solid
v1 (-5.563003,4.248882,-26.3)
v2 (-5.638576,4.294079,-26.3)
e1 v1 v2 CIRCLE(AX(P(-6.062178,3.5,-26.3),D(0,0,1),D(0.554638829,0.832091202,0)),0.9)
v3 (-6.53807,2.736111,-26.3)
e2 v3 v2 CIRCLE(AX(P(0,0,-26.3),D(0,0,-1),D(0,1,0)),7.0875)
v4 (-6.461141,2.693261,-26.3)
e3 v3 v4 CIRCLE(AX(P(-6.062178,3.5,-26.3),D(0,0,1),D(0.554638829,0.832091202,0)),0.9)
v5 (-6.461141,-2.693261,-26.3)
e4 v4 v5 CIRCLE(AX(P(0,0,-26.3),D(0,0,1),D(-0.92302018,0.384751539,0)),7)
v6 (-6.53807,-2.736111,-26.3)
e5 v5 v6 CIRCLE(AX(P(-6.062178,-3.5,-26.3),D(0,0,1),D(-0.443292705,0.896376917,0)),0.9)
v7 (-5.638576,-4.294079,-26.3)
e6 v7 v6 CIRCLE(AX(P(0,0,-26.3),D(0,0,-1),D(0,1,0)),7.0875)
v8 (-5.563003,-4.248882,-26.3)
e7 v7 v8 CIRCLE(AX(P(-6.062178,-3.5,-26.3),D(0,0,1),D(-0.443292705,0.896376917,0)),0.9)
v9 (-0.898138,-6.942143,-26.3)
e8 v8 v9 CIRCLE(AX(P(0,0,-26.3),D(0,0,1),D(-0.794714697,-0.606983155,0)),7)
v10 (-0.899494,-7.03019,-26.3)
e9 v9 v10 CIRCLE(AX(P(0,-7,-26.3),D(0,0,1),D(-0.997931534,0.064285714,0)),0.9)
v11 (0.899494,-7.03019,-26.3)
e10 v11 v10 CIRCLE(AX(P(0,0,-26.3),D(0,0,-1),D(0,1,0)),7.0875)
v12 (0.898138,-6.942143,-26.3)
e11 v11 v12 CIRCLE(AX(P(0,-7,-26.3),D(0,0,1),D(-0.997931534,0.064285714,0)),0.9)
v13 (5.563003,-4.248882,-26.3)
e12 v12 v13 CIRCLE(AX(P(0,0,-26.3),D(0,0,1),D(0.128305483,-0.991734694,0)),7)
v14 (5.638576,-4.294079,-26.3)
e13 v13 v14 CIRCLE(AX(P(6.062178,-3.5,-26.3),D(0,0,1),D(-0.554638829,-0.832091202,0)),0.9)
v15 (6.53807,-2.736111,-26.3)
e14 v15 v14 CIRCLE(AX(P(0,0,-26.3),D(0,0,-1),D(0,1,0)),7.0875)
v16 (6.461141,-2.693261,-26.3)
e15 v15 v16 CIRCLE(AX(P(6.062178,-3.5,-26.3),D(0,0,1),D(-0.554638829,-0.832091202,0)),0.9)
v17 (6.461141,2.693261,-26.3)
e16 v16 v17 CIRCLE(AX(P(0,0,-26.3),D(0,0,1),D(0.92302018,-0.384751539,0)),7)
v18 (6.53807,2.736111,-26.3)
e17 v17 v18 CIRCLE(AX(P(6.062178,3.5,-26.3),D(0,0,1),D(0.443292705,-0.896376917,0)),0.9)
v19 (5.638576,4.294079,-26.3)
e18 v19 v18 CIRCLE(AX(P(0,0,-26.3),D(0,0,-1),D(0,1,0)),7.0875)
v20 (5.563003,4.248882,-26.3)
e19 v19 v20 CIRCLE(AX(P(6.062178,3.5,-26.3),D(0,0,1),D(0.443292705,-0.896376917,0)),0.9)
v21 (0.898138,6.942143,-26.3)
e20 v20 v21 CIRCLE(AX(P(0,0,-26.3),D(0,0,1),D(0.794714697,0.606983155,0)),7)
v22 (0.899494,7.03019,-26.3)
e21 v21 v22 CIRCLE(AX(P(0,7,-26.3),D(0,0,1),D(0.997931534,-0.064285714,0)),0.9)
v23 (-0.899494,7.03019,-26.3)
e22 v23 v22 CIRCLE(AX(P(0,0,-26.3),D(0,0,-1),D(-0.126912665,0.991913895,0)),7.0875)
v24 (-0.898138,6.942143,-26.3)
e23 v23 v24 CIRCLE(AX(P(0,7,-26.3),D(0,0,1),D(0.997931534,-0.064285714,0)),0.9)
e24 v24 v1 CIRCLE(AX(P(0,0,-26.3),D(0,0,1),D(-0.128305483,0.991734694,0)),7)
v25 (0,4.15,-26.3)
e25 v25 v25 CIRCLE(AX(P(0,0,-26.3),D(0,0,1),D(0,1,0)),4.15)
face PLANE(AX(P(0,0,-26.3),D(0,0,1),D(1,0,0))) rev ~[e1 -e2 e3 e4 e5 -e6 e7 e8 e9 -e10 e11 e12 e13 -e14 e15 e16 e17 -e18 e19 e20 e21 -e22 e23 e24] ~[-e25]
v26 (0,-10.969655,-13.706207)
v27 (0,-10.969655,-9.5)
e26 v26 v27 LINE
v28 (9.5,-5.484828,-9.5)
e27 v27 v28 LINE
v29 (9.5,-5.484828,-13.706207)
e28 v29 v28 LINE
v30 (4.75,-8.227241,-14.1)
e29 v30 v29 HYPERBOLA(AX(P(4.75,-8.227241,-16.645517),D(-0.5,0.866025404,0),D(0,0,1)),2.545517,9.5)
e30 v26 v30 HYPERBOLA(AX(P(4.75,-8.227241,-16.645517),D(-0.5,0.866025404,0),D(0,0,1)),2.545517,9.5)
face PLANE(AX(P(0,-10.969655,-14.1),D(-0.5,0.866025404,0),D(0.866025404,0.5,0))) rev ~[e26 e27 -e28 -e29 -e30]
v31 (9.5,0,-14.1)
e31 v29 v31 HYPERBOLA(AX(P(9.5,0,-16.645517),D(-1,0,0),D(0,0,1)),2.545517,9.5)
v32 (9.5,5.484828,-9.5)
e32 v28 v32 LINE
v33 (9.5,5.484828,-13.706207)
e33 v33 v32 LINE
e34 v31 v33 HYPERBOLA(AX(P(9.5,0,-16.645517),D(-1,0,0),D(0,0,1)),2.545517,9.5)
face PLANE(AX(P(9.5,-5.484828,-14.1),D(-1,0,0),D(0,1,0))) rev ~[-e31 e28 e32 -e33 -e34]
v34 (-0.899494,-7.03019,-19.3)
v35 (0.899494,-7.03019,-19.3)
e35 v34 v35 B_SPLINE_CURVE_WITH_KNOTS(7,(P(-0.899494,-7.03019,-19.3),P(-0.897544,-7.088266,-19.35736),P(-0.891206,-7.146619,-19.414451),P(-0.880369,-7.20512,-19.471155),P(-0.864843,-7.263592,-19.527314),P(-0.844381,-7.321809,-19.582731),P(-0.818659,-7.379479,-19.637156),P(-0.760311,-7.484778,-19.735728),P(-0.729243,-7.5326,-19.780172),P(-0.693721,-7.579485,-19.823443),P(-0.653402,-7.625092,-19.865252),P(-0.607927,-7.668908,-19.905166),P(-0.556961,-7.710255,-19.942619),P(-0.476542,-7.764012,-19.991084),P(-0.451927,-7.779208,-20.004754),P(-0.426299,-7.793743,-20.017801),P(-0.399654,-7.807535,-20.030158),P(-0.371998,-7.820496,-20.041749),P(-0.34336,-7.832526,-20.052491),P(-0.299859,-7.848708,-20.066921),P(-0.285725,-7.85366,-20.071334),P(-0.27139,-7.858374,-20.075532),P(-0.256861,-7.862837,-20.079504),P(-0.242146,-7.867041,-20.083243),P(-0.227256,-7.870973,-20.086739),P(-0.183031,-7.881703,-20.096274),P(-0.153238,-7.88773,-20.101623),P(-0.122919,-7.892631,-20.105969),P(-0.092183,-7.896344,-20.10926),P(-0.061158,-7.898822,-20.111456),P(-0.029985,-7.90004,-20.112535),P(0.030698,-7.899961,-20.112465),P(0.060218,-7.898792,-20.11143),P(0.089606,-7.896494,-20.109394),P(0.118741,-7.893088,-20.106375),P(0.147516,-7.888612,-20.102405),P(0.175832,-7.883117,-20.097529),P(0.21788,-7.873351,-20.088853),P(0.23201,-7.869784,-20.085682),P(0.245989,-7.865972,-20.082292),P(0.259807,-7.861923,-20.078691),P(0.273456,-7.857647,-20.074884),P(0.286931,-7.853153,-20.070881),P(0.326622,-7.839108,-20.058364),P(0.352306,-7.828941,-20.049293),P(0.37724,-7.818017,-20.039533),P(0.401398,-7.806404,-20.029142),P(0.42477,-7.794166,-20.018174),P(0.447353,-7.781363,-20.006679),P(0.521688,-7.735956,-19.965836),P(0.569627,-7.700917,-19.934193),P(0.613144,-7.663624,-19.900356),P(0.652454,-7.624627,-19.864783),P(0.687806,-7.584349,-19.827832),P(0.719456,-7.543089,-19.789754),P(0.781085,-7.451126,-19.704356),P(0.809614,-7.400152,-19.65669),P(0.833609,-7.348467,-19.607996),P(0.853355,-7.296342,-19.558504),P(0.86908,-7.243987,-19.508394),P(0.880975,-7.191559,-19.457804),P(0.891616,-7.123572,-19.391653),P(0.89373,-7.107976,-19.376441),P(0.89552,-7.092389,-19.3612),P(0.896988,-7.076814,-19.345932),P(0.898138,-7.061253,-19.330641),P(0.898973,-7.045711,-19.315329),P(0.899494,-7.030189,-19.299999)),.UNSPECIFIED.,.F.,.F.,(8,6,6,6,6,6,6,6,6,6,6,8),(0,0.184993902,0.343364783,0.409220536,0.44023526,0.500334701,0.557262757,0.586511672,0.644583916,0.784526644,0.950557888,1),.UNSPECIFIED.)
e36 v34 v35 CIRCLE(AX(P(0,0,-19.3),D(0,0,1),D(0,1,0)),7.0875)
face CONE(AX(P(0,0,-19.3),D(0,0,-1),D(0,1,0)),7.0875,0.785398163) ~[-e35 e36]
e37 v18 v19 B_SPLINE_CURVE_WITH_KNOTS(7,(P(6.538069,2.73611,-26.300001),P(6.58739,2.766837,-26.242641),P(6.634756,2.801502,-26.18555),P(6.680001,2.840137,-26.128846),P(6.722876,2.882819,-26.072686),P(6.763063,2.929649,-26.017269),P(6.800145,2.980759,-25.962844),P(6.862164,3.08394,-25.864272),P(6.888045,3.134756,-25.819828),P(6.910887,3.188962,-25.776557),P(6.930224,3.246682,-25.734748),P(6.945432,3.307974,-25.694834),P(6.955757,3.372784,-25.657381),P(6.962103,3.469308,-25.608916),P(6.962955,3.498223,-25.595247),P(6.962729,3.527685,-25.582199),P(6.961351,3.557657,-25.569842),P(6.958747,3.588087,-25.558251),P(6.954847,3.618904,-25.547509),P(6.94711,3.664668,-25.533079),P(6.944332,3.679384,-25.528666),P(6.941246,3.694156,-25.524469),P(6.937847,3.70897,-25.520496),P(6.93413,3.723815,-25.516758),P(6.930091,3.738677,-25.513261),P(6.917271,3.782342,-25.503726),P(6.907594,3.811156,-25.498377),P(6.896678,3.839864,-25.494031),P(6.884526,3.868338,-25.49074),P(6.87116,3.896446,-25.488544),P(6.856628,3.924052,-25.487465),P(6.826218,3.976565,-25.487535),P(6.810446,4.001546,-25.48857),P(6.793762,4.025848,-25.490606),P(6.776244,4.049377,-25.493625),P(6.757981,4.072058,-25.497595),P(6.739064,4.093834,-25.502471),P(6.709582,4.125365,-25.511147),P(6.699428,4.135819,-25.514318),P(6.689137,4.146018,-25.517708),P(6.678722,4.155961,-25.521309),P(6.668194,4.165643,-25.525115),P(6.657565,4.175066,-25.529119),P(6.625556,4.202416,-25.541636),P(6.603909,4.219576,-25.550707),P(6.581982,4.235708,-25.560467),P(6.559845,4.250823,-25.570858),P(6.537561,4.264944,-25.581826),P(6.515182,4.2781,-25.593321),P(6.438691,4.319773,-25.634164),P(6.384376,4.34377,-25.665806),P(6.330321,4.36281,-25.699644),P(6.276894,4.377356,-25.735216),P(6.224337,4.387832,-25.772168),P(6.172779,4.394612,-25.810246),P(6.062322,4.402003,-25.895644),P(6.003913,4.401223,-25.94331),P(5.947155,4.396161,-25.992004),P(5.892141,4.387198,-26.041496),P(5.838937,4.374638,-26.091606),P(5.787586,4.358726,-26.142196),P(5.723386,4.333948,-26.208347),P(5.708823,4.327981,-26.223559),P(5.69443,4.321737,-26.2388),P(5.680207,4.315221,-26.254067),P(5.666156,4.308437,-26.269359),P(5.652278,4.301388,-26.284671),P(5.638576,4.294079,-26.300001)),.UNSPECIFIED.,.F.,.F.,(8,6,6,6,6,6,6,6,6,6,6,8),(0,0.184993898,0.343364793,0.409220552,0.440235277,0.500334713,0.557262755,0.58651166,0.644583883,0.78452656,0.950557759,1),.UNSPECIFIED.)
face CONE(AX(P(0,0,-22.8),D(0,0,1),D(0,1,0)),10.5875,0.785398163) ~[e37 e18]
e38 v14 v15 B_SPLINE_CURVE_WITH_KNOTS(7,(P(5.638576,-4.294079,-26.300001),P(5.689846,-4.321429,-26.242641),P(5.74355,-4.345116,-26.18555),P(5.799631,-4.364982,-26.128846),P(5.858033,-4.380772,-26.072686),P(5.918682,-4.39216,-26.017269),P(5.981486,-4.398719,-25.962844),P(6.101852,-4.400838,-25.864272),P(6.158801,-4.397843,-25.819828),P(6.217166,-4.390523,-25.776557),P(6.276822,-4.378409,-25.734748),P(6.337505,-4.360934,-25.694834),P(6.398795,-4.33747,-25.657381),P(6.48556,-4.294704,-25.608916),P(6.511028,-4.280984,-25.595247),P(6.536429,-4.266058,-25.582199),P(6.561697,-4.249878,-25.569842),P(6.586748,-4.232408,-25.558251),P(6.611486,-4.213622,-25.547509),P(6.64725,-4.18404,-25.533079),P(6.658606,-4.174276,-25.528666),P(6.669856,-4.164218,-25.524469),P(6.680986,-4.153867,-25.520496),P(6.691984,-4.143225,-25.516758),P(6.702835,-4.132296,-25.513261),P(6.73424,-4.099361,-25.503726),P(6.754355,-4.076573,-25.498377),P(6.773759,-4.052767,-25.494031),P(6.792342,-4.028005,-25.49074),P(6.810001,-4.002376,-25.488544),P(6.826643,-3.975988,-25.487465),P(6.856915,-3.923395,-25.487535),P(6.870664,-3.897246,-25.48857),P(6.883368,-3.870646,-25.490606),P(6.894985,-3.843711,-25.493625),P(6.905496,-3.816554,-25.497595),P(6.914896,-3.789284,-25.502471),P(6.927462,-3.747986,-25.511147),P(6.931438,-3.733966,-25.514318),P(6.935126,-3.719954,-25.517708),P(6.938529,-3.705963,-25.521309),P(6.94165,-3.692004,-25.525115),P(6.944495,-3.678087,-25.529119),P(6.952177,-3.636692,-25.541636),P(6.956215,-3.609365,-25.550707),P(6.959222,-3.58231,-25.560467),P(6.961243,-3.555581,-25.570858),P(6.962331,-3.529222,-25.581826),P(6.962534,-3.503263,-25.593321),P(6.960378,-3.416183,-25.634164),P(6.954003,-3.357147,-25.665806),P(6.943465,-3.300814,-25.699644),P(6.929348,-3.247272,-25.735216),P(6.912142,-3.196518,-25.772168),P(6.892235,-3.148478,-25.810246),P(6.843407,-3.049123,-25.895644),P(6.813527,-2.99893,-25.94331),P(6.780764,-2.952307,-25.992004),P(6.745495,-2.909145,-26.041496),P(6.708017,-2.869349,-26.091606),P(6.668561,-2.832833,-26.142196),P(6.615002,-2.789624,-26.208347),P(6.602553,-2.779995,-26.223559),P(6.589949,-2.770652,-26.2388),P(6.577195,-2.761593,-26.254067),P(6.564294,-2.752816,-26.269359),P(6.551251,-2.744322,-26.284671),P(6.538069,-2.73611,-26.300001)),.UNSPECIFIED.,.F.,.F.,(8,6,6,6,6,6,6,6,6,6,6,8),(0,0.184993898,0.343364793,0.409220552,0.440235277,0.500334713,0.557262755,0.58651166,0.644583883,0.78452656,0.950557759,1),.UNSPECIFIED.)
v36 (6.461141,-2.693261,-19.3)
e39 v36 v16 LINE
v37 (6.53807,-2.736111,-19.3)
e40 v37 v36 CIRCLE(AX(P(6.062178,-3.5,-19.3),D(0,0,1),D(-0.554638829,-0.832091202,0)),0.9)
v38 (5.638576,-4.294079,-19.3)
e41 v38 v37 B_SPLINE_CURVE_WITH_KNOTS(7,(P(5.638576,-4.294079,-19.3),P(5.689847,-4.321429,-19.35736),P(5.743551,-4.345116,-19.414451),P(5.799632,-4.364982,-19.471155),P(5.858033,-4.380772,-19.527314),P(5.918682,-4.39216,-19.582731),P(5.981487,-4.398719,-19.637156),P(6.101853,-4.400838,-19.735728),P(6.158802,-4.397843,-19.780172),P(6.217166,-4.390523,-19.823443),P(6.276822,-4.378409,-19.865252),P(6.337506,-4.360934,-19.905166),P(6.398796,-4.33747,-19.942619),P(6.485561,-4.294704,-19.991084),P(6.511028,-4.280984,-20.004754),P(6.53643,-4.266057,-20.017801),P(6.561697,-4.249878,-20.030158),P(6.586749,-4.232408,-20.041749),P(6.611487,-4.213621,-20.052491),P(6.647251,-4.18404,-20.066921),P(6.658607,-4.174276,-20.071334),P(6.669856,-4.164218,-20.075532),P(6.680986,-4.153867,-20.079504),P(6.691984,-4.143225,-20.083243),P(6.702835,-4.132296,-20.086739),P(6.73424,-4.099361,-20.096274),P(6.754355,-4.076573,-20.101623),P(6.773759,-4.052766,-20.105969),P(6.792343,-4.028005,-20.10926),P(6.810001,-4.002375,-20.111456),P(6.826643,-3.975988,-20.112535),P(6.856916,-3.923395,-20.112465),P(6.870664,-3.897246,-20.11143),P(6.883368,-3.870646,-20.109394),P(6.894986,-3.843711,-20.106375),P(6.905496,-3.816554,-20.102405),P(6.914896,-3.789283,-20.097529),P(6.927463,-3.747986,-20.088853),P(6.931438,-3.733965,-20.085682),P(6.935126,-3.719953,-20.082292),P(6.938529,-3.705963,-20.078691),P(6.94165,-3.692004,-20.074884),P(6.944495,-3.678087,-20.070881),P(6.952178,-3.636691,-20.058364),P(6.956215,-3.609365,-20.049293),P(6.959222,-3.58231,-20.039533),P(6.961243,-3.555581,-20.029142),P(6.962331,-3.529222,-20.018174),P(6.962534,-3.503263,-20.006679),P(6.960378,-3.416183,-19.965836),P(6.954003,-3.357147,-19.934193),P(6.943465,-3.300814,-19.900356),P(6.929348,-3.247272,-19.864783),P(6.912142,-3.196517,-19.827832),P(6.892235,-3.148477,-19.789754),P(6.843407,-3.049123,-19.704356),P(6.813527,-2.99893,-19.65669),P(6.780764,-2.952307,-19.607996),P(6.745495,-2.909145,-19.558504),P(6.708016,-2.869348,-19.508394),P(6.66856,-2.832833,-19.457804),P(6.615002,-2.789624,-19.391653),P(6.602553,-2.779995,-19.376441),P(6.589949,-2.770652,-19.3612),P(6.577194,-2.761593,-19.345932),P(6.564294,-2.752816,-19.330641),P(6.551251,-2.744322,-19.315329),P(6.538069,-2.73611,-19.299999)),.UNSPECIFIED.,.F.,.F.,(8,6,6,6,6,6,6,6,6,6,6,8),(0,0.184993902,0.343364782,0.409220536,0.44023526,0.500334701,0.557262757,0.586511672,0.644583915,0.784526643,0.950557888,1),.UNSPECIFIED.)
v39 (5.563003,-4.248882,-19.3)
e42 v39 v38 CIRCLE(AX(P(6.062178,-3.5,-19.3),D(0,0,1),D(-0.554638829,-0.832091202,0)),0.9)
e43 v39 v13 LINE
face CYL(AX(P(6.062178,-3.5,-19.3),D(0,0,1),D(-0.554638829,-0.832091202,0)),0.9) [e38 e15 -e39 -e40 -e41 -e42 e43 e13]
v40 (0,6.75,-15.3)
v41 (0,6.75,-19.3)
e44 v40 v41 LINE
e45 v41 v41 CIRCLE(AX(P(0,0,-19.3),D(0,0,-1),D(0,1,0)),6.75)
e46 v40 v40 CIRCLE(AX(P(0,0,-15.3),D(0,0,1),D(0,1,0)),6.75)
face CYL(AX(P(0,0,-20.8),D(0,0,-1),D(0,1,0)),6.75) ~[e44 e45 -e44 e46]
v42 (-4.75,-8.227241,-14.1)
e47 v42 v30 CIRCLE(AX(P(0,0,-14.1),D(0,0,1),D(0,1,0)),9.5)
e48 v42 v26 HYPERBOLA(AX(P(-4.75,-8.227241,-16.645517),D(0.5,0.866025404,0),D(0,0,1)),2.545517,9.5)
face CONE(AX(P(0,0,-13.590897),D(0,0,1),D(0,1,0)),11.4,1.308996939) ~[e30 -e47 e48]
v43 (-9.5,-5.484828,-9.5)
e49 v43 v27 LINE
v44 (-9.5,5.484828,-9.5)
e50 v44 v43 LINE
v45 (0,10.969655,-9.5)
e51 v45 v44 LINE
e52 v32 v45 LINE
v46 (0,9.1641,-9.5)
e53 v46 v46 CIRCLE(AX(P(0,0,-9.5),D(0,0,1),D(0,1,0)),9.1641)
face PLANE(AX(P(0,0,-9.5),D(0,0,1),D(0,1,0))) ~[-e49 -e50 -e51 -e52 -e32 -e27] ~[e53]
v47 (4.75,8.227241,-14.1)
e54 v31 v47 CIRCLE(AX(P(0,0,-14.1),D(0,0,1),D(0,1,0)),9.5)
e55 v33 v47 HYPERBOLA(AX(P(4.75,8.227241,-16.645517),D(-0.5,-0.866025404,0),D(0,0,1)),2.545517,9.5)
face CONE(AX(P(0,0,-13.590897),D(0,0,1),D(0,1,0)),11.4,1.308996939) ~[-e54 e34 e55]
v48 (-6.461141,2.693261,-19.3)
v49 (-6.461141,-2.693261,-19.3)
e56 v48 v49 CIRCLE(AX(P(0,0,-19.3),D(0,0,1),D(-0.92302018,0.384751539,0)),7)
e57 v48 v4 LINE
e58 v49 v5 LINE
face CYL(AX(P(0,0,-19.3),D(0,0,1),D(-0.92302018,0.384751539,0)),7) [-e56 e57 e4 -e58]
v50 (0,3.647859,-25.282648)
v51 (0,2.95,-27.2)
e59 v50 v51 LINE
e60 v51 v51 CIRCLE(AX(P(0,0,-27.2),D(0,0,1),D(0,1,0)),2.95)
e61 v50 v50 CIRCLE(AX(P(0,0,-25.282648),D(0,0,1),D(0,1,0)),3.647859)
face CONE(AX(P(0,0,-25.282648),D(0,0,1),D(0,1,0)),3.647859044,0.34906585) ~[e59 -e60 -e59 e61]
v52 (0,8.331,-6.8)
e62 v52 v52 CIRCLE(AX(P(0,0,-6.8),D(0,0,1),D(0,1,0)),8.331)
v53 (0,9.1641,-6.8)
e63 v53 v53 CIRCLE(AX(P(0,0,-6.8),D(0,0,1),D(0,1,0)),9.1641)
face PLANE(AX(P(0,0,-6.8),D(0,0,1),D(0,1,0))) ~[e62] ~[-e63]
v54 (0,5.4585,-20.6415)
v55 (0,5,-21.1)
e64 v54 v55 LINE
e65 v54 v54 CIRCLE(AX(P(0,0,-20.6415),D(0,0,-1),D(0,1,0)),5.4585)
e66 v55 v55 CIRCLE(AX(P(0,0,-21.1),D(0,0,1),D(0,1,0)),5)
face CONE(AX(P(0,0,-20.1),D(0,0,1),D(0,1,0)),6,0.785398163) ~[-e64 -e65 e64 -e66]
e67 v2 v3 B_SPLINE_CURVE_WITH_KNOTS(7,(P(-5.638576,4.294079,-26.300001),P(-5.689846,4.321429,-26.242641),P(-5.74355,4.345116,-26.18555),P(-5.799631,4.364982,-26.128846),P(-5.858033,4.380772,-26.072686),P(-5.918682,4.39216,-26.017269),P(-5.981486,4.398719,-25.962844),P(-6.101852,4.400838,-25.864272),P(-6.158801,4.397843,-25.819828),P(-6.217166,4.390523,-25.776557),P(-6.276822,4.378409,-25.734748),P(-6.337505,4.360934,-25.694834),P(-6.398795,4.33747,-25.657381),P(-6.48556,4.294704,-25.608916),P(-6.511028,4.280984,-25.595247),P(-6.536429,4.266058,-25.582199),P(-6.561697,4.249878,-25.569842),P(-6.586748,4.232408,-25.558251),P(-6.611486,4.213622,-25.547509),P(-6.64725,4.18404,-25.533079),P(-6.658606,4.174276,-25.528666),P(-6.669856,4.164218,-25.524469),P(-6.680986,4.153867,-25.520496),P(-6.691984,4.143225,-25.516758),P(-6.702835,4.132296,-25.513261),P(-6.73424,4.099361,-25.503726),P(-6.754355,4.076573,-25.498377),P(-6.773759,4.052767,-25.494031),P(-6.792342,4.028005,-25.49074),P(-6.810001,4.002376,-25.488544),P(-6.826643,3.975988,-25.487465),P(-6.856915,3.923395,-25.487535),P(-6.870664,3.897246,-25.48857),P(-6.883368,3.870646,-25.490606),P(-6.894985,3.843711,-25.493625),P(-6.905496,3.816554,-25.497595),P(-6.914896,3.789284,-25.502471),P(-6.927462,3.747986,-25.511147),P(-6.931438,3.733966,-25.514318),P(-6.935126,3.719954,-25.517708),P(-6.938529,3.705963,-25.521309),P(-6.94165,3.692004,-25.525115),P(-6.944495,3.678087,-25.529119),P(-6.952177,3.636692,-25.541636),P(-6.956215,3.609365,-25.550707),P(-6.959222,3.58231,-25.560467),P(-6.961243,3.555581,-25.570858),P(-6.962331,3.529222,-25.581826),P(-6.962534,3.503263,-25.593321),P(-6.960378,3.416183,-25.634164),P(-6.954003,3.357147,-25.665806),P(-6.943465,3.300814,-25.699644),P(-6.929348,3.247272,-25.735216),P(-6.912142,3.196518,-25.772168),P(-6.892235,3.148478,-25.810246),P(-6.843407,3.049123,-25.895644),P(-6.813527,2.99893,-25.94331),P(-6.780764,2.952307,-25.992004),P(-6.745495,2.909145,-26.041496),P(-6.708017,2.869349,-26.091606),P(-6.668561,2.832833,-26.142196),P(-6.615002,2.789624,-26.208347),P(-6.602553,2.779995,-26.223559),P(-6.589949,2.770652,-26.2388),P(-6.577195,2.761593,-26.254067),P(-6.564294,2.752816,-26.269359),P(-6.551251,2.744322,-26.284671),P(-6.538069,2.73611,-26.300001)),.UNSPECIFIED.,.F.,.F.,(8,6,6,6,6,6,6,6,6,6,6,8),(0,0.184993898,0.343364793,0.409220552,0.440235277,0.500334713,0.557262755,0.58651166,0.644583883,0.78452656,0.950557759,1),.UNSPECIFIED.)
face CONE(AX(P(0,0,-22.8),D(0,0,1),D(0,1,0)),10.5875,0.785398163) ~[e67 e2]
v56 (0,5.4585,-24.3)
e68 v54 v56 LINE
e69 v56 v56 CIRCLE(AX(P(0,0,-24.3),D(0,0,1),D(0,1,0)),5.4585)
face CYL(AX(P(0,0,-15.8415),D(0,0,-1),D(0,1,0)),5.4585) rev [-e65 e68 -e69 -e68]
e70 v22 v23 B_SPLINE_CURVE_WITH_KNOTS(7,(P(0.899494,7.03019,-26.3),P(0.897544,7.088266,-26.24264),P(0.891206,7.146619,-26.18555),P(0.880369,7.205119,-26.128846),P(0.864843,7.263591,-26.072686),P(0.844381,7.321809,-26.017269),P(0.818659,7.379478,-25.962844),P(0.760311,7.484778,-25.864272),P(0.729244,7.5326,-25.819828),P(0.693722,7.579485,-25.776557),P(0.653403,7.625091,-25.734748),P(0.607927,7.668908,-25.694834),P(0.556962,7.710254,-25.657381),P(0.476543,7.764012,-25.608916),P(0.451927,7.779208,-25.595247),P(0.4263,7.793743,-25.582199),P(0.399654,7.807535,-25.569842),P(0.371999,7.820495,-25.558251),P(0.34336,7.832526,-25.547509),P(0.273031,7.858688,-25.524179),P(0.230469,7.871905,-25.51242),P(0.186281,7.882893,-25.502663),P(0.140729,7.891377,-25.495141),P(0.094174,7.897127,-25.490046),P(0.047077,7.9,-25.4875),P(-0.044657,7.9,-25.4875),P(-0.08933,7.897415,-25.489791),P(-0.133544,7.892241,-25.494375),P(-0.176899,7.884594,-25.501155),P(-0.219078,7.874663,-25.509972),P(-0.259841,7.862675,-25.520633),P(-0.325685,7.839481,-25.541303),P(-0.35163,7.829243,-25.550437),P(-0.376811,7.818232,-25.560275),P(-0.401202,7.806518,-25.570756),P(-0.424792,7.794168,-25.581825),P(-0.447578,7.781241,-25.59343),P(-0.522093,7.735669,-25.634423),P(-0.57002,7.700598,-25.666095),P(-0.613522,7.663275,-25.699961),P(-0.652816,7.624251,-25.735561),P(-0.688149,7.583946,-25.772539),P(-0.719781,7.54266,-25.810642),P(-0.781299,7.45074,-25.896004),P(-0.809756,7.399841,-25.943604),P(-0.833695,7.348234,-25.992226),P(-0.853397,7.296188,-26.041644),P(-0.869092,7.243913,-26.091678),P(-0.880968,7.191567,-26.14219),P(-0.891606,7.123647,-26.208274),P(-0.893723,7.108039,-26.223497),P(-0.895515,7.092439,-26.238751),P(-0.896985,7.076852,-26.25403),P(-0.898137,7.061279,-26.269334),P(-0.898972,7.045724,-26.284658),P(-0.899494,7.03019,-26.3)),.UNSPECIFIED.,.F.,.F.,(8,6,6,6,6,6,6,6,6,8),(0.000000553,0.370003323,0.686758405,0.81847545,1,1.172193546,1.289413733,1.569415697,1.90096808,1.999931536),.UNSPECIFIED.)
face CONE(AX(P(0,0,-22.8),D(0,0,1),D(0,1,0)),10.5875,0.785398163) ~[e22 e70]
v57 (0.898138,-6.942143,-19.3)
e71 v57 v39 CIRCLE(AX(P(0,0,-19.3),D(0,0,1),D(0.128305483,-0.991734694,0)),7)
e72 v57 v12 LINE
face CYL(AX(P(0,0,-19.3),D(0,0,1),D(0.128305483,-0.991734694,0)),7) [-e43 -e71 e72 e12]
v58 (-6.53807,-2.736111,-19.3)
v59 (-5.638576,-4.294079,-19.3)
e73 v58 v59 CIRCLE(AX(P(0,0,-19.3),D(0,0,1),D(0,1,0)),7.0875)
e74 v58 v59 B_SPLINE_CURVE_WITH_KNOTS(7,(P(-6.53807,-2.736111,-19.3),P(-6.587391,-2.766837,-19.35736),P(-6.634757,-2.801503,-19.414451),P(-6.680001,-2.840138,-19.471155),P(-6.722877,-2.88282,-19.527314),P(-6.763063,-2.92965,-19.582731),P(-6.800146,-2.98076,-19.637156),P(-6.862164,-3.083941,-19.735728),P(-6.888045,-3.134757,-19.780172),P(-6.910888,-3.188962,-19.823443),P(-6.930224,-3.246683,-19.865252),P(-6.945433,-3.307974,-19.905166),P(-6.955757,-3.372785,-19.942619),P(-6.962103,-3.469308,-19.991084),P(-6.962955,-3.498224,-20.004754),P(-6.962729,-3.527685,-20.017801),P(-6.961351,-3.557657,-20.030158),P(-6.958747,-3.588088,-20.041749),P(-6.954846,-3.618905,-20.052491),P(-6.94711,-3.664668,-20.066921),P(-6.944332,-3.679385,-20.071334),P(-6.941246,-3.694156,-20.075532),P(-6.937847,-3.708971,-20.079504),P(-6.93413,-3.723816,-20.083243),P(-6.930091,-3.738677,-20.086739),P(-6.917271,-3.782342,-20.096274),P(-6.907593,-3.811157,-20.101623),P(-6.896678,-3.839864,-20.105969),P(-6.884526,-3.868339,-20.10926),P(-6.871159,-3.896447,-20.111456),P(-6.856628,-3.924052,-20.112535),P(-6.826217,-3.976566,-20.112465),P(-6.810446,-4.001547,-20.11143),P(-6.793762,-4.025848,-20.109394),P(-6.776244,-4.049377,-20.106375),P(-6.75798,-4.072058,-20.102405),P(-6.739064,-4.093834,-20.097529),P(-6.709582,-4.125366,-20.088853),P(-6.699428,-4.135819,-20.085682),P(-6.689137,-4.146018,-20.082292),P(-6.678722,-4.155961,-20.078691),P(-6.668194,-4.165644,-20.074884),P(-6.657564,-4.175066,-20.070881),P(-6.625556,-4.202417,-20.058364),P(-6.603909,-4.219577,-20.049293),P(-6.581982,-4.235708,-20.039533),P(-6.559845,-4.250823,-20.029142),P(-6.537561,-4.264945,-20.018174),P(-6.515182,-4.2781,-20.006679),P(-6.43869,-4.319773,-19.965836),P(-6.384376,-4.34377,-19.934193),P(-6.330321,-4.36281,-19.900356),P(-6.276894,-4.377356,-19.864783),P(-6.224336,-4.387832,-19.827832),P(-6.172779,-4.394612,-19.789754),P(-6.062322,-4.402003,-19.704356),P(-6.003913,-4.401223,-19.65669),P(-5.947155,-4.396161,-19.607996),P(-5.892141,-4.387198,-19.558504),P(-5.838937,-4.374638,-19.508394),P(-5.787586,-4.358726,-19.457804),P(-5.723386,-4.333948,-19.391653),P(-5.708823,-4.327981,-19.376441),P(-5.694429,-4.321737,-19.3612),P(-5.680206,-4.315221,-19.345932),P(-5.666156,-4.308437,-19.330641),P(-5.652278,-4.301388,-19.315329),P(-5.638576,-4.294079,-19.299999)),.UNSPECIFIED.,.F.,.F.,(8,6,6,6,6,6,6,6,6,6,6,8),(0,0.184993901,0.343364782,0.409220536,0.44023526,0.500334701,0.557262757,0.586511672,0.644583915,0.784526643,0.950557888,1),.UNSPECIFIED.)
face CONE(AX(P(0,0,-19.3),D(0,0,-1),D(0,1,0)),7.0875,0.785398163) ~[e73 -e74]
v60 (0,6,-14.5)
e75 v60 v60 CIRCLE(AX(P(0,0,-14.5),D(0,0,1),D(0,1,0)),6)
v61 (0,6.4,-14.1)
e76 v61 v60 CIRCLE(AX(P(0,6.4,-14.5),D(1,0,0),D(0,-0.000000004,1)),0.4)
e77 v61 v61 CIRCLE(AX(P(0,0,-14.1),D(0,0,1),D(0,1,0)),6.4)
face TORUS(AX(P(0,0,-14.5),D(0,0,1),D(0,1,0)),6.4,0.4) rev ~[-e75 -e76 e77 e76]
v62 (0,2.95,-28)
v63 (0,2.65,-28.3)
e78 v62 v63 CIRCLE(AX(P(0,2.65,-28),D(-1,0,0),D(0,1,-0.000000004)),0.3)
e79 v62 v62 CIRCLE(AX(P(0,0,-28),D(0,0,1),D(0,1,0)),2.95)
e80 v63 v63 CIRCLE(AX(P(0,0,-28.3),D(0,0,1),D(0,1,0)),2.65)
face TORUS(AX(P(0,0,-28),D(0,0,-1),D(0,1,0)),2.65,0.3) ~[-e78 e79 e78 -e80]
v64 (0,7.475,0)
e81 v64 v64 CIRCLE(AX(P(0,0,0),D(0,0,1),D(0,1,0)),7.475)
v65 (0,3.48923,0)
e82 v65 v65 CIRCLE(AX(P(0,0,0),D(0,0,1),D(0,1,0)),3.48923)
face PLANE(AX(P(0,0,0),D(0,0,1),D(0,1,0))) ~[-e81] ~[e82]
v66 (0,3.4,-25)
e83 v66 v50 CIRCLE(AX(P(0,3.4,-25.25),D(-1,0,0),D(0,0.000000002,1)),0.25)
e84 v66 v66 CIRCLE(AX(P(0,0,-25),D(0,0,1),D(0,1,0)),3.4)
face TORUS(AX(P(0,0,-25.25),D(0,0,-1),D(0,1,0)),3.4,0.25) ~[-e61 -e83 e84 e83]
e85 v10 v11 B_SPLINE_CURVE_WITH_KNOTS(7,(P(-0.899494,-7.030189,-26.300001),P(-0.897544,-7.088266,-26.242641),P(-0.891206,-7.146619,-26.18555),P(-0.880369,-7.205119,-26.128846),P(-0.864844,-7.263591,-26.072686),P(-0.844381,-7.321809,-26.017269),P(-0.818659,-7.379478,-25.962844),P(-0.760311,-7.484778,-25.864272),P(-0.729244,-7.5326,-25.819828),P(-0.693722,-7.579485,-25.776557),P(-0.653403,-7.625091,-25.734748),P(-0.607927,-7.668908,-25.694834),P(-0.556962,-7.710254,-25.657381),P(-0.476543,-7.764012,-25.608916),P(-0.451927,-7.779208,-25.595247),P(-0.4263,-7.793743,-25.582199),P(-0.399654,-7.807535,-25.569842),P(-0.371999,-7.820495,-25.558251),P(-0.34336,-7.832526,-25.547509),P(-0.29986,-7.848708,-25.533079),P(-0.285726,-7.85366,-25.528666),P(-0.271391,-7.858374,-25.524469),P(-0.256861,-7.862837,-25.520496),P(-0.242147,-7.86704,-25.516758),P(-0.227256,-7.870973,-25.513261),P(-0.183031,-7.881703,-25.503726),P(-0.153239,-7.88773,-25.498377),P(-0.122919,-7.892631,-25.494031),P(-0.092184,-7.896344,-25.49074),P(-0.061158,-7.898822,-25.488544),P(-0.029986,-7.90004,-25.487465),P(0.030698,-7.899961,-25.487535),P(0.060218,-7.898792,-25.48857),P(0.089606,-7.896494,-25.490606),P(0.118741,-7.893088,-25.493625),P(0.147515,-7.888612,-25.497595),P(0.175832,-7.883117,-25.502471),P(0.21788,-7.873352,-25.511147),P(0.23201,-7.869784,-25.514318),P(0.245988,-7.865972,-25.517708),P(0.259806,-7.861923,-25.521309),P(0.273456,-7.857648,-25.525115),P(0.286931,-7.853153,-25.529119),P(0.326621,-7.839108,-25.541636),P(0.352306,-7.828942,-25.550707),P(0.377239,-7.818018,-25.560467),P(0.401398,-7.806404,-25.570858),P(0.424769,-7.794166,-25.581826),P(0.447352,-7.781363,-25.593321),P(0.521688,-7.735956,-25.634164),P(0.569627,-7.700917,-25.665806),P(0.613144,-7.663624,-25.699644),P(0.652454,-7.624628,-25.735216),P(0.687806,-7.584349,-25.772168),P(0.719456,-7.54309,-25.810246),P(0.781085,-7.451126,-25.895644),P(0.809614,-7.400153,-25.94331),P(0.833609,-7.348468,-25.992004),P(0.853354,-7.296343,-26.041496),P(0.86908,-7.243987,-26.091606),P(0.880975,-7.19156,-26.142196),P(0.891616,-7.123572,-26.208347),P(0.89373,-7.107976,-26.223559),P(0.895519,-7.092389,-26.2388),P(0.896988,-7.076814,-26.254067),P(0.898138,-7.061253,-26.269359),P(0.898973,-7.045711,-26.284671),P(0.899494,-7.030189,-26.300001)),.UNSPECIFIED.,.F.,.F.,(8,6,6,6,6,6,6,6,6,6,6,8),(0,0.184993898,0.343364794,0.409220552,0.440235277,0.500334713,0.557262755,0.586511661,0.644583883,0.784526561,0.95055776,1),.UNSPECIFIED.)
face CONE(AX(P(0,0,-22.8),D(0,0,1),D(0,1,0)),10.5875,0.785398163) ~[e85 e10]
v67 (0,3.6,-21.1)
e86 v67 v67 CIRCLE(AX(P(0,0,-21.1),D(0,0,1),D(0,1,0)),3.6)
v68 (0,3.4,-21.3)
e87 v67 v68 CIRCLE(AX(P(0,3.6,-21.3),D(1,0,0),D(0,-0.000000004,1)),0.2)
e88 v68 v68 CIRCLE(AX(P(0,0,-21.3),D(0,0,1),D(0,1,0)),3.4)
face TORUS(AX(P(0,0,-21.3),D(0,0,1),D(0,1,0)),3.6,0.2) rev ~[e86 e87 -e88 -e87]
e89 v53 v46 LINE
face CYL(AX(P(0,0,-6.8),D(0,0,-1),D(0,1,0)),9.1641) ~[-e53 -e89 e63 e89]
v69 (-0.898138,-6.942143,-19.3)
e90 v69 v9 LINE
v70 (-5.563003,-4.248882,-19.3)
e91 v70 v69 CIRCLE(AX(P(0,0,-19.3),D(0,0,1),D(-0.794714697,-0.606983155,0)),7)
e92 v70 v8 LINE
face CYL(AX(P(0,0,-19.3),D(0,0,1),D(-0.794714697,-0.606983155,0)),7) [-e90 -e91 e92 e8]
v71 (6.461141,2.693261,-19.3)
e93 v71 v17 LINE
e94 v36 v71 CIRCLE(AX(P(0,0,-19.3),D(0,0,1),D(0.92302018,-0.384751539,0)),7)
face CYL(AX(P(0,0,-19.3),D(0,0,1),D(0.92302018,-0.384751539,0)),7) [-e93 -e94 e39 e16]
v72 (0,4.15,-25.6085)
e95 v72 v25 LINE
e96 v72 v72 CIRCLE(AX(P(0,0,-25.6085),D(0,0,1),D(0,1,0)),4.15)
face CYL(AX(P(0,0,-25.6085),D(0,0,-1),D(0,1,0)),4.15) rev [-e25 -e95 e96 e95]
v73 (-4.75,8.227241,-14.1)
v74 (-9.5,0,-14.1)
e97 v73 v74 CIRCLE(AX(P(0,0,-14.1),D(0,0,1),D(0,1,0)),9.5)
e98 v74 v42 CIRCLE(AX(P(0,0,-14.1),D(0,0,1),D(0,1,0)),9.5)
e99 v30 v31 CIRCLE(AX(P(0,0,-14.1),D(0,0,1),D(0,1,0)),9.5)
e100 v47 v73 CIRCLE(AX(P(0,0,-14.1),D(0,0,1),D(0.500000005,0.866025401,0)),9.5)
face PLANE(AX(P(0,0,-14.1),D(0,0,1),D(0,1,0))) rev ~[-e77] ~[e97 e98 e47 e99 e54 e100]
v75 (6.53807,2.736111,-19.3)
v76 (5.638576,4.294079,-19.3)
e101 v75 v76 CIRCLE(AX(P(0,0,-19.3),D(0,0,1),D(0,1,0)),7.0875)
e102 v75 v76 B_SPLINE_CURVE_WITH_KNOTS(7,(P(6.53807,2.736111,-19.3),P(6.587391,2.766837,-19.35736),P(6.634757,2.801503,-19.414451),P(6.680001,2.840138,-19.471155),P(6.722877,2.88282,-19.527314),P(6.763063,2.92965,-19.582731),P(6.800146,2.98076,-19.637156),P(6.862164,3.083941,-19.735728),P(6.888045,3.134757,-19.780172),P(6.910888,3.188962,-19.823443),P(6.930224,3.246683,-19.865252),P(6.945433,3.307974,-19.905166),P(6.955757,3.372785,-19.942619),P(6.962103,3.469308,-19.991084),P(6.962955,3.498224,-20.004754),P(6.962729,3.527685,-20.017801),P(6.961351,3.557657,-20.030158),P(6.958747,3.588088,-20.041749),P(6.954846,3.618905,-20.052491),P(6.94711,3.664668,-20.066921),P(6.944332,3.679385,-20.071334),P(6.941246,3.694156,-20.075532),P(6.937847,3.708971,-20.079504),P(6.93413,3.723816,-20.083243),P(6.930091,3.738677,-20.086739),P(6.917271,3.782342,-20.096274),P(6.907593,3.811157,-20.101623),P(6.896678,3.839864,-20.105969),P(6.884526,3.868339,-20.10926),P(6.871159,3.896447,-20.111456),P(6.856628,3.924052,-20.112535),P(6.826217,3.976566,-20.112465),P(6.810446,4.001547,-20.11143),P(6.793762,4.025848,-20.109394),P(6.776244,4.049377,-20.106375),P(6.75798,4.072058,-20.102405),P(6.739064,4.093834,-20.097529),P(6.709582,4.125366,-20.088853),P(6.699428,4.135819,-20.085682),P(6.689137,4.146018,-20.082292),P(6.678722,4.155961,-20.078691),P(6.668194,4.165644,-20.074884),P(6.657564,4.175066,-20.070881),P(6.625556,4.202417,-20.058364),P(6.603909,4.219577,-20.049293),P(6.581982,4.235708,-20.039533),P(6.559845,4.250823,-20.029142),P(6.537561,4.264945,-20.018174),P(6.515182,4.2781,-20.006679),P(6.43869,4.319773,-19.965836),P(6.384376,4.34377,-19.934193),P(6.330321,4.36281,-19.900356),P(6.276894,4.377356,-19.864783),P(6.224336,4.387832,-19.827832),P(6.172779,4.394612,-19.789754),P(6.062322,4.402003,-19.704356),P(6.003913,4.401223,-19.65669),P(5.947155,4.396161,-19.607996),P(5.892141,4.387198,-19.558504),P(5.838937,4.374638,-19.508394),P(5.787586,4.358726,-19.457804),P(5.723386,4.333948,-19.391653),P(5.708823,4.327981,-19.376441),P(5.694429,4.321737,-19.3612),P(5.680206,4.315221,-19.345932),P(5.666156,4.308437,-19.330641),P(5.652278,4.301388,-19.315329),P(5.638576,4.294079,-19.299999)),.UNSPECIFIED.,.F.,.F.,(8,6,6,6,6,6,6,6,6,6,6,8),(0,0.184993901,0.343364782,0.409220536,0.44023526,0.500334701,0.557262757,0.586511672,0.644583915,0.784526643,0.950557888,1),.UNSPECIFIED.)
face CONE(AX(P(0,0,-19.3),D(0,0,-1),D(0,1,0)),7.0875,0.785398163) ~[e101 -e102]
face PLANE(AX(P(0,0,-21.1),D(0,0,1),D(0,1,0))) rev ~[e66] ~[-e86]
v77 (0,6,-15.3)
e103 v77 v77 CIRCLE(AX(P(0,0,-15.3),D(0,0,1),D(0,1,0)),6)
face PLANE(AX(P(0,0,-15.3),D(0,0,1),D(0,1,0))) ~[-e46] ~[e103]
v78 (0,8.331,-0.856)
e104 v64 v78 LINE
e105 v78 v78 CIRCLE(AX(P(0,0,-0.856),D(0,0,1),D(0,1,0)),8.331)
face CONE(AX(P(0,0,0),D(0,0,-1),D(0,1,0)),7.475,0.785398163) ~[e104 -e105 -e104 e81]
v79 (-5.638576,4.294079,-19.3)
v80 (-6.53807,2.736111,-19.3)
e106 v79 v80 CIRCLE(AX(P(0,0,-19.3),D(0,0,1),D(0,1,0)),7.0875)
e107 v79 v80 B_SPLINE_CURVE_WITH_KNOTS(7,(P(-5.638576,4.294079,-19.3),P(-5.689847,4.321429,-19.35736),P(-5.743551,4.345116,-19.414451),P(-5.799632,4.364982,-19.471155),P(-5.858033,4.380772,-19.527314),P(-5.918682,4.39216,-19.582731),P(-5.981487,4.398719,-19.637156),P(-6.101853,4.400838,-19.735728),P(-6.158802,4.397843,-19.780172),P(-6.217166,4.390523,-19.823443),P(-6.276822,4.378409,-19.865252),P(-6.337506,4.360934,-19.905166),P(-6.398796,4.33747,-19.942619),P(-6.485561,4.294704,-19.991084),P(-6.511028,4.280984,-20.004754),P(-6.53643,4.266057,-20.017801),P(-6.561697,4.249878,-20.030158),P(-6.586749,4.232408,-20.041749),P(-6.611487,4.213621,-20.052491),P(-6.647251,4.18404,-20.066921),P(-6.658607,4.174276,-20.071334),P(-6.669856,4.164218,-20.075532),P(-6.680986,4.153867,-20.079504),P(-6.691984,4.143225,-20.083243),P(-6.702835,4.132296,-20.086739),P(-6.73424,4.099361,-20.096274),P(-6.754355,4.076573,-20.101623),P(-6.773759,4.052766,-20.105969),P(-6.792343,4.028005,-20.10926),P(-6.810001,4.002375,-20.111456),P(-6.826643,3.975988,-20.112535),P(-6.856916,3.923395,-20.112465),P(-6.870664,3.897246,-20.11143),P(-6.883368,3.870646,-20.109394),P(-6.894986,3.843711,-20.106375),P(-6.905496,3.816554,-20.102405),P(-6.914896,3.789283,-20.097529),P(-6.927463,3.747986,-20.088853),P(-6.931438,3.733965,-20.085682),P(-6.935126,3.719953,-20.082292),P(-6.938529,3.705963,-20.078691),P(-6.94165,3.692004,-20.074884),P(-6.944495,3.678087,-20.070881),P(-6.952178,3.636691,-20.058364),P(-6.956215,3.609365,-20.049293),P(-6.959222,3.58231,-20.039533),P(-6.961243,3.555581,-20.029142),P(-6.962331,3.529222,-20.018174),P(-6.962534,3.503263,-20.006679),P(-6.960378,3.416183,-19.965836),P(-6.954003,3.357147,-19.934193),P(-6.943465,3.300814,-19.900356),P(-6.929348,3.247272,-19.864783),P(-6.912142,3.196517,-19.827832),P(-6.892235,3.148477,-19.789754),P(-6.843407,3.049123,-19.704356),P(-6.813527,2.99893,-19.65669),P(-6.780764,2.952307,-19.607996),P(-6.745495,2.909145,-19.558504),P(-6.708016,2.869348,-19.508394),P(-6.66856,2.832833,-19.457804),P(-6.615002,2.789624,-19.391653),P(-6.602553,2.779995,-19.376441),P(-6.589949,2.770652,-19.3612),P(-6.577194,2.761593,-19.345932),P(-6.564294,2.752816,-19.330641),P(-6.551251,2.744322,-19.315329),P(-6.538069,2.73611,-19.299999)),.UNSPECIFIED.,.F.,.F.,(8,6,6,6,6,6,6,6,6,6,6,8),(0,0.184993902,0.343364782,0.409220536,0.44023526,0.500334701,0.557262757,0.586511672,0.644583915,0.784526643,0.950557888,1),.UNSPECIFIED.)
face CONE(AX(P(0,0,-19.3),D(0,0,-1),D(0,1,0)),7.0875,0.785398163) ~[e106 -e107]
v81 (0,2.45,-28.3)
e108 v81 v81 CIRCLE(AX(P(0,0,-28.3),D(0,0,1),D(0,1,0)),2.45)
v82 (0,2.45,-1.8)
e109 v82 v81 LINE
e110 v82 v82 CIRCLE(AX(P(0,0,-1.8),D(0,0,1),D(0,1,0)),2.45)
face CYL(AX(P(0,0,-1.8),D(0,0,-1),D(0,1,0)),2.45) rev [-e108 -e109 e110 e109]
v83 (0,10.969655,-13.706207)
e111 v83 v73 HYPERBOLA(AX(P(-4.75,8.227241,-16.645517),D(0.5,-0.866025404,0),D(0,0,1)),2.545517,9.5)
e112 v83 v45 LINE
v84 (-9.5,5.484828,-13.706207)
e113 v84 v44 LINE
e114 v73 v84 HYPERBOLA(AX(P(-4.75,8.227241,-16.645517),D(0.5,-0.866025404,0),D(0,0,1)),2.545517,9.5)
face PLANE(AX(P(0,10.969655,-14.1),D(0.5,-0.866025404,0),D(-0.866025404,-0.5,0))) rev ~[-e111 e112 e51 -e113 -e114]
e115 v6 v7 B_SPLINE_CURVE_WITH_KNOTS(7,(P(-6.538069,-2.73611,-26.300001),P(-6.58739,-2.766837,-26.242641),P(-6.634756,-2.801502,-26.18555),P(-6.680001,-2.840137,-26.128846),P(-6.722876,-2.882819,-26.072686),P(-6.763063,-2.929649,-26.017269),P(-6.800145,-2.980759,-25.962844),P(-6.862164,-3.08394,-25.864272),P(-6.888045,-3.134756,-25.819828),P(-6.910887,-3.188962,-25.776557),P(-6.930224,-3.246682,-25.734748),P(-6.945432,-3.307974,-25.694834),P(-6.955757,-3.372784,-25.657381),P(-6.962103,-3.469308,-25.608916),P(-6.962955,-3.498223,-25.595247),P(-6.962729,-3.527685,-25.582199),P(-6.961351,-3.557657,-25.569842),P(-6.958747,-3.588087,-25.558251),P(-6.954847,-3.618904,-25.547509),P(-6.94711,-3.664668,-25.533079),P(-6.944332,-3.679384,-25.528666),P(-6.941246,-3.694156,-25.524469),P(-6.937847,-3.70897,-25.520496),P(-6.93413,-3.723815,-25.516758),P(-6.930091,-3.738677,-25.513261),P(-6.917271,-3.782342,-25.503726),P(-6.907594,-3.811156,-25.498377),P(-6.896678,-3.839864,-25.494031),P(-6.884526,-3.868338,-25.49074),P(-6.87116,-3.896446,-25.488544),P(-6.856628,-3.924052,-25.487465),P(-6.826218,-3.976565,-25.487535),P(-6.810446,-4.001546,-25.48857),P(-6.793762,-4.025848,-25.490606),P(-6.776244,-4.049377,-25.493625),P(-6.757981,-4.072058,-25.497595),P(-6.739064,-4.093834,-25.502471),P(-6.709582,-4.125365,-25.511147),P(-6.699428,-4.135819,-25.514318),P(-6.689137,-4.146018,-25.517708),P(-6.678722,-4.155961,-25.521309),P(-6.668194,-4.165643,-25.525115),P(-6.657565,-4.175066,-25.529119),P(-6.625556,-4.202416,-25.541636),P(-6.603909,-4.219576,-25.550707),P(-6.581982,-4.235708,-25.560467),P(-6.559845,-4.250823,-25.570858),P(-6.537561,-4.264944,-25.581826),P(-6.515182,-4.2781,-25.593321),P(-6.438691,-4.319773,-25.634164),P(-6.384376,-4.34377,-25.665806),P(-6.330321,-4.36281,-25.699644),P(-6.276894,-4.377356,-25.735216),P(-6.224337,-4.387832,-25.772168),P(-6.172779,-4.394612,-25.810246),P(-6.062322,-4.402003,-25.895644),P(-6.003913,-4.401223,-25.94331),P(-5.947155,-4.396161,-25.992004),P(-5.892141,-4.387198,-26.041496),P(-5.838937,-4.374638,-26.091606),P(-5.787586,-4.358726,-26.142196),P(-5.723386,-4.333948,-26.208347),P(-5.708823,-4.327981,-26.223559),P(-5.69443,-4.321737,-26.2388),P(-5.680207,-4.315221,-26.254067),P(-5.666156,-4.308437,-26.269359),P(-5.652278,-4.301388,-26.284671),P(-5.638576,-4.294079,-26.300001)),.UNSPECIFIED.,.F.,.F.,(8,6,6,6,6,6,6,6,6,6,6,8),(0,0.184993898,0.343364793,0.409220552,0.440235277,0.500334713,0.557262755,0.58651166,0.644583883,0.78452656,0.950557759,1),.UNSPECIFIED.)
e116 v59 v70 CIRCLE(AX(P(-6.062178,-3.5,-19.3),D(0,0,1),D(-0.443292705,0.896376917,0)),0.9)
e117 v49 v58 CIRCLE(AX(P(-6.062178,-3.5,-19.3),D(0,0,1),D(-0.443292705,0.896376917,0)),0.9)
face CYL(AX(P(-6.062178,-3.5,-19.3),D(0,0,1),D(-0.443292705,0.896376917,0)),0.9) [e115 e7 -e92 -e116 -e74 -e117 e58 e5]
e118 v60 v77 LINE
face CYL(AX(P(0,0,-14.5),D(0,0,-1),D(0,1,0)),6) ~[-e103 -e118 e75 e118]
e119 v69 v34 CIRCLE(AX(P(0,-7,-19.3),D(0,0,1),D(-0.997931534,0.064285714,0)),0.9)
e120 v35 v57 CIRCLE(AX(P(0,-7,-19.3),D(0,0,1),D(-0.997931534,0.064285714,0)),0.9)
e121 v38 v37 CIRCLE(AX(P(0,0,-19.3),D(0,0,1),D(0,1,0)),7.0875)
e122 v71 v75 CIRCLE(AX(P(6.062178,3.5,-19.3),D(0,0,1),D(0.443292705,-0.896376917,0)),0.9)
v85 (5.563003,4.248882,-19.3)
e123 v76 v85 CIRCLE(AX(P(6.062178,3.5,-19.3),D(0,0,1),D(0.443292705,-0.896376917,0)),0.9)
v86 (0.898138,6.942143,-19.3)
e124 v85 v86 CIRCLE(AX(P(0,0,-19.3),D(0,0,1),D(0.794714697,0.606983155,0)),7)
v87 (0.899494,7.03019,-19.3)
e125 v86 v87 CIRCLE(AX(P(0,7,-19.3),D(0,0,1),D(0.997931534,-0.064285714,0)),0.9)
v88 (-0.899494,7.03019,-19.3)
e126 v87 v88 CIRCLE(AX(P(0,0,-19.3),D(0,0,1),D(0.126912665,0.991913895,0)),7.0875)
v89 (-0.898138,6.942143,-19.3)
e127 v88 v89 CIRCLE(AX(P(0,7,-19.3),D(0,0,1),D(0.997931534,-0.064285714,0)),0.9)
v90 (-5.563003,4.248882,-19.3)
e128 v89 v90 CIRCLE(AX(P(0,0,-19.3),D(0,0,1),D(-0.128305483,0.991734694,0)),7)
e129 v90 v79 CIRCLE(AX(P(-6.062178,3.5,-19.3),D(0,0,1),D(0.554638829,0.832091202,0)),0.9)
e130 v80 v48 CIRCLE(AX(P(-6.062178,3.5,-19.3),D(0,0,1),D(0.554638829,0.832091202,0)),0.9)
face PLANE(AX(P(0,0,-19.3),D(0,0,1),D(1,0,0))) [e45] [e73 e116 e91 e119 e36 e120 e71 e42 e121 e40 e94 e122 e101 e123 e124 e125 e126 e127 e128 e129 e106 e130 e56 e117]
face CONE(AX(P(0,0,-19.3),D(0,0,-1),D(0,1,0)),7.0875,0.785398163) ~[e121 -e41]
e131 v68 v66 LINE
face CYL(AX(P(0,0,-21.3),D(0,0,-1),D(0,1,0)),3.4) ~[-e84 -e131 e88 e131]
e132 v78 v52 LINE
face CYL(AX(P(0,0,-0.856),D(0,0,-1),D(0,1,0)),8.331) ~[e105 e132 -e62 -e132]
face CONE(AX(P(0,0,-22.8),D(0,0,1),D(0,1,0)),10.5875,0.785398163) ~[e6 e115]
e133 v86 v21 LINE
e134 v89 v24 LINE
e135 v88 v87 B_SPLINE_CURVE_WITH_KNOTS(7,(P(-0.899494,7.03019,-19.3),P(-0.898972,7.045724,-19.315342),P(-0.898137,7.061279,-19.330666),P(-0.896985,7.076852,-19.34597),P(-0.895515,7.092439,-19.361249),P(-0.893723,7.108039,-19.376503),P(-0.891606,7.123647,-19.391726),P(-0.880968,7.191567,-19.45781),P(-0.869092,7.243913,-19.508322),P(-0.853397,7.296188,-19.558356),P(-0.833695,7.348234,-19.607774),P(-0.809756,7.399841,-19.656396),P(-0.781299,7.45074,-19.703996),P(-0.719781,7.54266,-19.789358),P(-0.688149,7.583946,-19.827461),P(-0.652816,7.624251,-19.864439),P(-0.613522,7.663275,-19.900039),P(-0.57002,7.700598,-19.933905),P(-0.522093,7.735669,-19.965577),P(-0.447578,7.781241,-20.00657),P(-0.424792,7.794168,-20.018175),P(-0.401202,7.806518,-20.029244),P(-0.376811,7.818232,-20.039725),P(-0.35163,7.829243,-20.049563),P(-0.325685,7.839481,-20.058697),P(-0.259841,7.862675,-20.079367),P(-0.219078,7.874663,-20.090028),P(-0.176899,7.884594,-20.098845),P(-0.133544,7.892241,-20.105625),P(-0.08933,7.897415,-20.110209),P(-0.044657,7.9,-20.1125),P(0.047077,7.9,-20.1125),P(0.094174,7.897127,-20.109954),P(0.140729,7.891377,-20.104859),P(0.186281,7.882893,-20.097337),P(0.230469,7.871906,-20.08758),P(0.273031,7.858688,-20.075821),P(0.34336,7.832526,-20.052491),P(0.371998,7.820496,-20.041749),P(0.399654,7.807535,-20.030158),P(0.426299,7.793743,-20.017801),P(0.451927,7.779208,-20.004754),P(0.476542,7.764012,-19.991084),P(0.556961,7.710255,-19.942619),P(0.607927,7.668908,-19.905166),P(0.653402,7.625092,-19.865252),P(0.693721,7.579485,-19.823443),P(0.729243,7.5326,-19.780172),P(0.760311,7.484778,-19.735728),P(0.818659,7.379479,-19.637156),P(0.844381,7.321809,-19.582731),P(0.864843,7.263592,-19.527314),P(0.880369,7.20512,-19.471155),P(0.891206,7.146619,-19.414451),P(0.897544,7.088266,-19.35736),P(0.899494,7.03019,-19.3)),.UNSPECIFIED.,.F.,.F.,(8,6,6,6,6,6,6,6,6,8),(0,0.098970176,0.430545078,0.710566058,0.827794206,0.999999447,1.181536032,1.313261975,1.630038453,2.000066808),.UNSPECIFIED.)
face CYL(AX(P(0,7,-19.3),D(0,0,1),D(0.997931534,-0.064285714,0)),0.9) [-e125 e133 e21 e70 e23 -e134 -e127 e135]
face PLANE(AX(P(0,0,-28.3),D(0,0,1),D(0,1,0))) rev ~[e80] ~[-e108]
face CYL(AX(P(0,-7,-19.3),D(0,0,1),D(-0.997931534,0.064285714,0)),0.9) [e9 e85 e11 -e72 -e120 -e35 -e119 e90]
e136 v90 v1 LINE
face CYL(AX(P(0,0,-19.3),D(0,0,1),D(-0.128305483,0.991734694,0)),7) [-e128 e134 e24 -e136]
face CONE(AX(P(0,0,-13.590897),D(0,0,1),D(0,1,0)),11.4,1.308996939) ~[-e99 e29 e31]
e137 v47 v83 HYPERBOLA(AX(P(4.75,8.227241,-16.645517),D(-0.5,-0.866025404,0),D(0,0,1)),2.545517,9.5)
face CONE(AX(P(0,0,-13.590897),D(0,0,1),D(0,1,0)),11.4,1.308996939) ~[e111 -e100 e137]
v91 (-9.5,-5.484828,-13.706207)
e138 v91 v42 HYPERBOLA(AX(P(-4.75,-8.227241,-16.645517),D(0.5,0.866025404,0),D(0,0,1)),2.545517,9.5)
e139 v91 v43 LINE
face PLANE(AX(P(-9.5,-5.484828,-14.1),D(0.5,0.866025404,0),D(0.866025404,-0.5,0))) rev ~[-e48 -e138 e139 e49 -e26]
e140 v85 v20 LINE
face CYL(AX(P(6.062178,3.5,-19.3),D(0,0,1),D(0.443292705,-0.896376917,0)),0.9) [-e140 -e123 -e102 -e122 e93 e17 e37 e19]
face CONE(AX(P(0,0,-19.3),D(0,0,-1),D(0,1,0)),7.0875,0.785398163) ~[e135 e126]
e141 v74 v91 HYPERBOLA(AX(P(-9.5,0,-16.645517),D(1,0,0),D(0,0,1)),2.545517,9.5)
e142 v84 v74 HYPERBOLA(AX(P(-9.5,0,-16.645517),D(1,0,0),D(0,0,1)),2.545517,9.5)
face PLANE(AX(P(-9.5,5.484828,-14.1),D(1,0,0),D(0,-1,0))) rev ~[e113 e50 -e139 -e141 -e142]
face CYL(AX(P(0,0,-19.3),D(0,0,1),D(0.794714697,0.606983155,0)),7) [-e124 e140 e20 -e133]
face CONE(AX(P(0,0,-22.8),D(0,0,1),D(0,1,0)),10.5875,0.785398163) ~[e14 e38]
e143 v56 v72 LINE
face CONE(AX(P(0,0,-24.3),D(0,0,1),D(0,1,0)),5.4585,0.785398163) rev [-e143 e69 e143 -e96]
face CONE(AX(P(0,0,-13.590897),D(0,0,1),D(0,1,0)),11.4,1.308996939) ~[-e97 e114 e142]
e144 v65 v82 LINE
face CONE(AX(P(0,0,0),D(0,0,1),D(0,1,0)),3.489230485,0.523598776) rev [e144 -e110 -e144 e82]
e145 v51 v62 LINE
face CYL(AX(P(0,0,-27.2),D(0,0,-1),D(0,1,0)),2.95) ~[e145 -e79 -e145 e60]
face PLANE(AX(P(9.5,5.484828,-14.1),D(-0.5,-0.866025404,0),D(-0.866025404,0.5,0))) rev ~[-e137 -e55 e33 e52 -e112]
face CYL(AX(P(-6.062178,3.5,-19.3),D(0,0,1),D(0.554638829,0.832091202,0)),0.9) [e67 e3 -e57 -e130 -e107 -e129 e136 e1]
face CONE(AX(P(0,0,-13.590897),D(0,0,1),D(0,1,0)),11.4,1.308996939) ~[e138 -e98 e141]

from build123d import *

# Parameters (mm, degrees)
SKETCH1_W           = 11
SKETCH1_H           = 6.75
SKETCH3_R           = 6.075
BOSS_EXTRUDE1_DEPTH = 7
SKETCH6_W           = 38
SKETCH6_H           = 38
CUT_EXTRUDE1_DEPTH  = 4.6


with BuildPart() as part:
    # Sketch1 → Revolve1 (revolve)
    with BuildSketch(Plane(origin=(0, 0, 0), x_dir=(0, 0, -1), z_dir=(1, 0, 0))):
        with Locations((20.8, 3.375)):
            Rectangle(SKETCH1_W, SKETCH1_H)
    revolve(axis=Axis((0, 0, -26.3), (0, 0, 1)))

    # Sketch2 → Cut-Revolve1 (revolve, cut)
    with BuildSketch(Plane(origin=(0, 0, 0), x_dir=(0, 0, -1), z_dir=(1, 0, 0))):
        Polygon((15.3, 0), (15.3, 6), (15.8415, 5.4585), (24.3, 5.4585), (25.6085, 4.15), (26.3, 4.15), (26.3, 0), align=None)
    revolve(axis=Axis((0, 0, -26.3), (0, 0, 1)), mode=Mode.SUBTRACT)

    # Sketch3 → Boss-Extrude1 (add)
    with BuildSketch(Plane.XY.offset(-19.3)):
        with BuildLine():
            ThreePointArc((-6.461141261, 2.693260775), (-7, 0), (-6.461141261, -2.693260775))
            ThreePointArc((-6.461141261, -2.693260775), (-6.84160069, -3.95), (-5.563002881, -4.248882082))
            ThreePointArc((-5.563002881, -4.248882082), (-3.5, -6.062177826), (-0.898138381, -6.942142857))
            ThreePointArc((-0.898138381, -6.942142857), (0, -7.9), (0.898138381, -6.942142857))
            ThreePointArc((0.898138381, -6.942142857), (3.5, -6.062177826), (5.563002881, -4.248882082))
            ThreePointArc((5.563002881, -4.248882082), (6.84160069, -3.95), (6.461141261, -2.693260775))
            ThreePointArc((6.461141261, -2.693260775), (7, 0), (6.461141261, 2.693260775))
            ThreePointArc((6.461141261, 2.693260775), (6.84160069, 3.95), (5.563002881, 4.248882082))
            ThreePointArc((5.563002881, 4.248882082), (3.5, 6.062177826), (0.898138381, 6.942142857))
            ThreePointArc((0.898138381, 6.942142857), (0, 7.9), (-0.898138381, 6.942142857))
            ThreePointArc((-0.898138381, 6.942142857), (-3.5, 6.062177826), (-5.563002881, 4.248882082))
            ThreePointArc((-5.563002881, 4.248882082), (-6.84160069, 3.95), (-6.461141261, 2.693260775))
        make_face()
        Circle(SKETCH3_R, mode=Mode.SUBTRACT)
    extrude(amount=-BOSS_EXTRUDE1_DEPTH)

    # Sketch4 → Cut-Revolve2 (revolve, cut)
    with BuildSketch(Plane(origin=(0, 0, 0), x_dir=(0, 0, -1), z_dir=(1, 0, 0))):
        Polygon((18.3, 20.5875), (18.3, 7.0875), (19.3, 7.0875), (22.8, 10.5875), (27.3, 6.0875), (27.3, 20.5875), align=None)
    revolve(axis=Axis((0, 0, -27.3), (0, 0, 1)), mode=Mode.SUBTRACT)

    # Sketch5 → Revolve2 (revolve)
    with BuildSketch(Plane(origin=(0, 0, 0), x_dir=(0, 0, -1), z_dir=(1, 0, 0))):
        with BuildLine():
            Line((0, 0), (0, 7.475))
            Line((0, 7.475), (0.856, 8.331))
            Line((0.856, 8.331), (6.8, 8.331))
            Line((6.8, 8.331), (6.8, 9.1641))
            Line((6.8, 9.1641), (9.5, 9.1641))
            Line((9.5, 9.1641), (9.5, 11.4))
            Line((9.5, 11.4), (13.590896534, 11.4))
            Line((13.590896534, 11.4), (14.1, 9.5))
            Line((14.1, 9.5), (14.1, 6.4))
            ThreePointArc((14.1, 6.4), (14.217157288, 6.117157288), (14.5, 6))
            Line((14.5, 6), (20.1, 6))
            Line((20.1, 6), (21.1, 5))
            Line((21.1, 5), (21.1, 3.6))
            ThreePointArc((21.1, 3.6), (21.158578644, 3.458578644), (21.3, 3.4))
            Line((21.3, 3.4), (25, 3.4))
            ThreePointArc((25, 3.4), (25.085169797, 3.587965433), (25.282648033, 3.647859044))
            Line((25.282648033, 3.647859044), (27.2, 2.95))
            Line((27.2, 2.95), (28, 2.95))
            ThreePointArc((28, 2.95), (28.212132034, 2.862132034), (28.3, 2.65))
            Line((28.3, 2.65), (28.3, 0))
            Line((28.3, 0), (0, 0))
        make_face()
    revolve(axis=Axis((0, 0, -28.3), (0, 0, 1)))

    # Sketch6 → Cut-Extrude1 (cut)
    with BuildSketch(Plane.XY.offset(-14.1)):
        Rectangle(SKETCH6_W, SKETCH6_H)
        Polygon((-9.5, 5.484827557), (-9.5, -5.484827557), (0, -10.969655115), (9.5, -5.484827557), (9.5, 5.484827557), (0, 10.969655115), align=None, mode=Mode.SUBTRACT)
    extrude(amount=CUT_EXTRUDE1_DEPTH, mode=Mode.SUBTRACT)

    # Sketch7 → Cut-Revolve3 (revolve, cut)
    with BuildSketch(Plane(origin=(0, 0, 0), x_dir=(0, 0, -1), z_dir=(1, 0, 0))):
        Polygon((0, 0), (0, 3.489230485), (1.8, 2.45), (28.3, 2.45), (28.3, 0), align=None)
    revolve(axis=Axis((0, 0, -28.3), (0, 0, 1)), mode=Mode.SUBTRACT)


solid = part.part
